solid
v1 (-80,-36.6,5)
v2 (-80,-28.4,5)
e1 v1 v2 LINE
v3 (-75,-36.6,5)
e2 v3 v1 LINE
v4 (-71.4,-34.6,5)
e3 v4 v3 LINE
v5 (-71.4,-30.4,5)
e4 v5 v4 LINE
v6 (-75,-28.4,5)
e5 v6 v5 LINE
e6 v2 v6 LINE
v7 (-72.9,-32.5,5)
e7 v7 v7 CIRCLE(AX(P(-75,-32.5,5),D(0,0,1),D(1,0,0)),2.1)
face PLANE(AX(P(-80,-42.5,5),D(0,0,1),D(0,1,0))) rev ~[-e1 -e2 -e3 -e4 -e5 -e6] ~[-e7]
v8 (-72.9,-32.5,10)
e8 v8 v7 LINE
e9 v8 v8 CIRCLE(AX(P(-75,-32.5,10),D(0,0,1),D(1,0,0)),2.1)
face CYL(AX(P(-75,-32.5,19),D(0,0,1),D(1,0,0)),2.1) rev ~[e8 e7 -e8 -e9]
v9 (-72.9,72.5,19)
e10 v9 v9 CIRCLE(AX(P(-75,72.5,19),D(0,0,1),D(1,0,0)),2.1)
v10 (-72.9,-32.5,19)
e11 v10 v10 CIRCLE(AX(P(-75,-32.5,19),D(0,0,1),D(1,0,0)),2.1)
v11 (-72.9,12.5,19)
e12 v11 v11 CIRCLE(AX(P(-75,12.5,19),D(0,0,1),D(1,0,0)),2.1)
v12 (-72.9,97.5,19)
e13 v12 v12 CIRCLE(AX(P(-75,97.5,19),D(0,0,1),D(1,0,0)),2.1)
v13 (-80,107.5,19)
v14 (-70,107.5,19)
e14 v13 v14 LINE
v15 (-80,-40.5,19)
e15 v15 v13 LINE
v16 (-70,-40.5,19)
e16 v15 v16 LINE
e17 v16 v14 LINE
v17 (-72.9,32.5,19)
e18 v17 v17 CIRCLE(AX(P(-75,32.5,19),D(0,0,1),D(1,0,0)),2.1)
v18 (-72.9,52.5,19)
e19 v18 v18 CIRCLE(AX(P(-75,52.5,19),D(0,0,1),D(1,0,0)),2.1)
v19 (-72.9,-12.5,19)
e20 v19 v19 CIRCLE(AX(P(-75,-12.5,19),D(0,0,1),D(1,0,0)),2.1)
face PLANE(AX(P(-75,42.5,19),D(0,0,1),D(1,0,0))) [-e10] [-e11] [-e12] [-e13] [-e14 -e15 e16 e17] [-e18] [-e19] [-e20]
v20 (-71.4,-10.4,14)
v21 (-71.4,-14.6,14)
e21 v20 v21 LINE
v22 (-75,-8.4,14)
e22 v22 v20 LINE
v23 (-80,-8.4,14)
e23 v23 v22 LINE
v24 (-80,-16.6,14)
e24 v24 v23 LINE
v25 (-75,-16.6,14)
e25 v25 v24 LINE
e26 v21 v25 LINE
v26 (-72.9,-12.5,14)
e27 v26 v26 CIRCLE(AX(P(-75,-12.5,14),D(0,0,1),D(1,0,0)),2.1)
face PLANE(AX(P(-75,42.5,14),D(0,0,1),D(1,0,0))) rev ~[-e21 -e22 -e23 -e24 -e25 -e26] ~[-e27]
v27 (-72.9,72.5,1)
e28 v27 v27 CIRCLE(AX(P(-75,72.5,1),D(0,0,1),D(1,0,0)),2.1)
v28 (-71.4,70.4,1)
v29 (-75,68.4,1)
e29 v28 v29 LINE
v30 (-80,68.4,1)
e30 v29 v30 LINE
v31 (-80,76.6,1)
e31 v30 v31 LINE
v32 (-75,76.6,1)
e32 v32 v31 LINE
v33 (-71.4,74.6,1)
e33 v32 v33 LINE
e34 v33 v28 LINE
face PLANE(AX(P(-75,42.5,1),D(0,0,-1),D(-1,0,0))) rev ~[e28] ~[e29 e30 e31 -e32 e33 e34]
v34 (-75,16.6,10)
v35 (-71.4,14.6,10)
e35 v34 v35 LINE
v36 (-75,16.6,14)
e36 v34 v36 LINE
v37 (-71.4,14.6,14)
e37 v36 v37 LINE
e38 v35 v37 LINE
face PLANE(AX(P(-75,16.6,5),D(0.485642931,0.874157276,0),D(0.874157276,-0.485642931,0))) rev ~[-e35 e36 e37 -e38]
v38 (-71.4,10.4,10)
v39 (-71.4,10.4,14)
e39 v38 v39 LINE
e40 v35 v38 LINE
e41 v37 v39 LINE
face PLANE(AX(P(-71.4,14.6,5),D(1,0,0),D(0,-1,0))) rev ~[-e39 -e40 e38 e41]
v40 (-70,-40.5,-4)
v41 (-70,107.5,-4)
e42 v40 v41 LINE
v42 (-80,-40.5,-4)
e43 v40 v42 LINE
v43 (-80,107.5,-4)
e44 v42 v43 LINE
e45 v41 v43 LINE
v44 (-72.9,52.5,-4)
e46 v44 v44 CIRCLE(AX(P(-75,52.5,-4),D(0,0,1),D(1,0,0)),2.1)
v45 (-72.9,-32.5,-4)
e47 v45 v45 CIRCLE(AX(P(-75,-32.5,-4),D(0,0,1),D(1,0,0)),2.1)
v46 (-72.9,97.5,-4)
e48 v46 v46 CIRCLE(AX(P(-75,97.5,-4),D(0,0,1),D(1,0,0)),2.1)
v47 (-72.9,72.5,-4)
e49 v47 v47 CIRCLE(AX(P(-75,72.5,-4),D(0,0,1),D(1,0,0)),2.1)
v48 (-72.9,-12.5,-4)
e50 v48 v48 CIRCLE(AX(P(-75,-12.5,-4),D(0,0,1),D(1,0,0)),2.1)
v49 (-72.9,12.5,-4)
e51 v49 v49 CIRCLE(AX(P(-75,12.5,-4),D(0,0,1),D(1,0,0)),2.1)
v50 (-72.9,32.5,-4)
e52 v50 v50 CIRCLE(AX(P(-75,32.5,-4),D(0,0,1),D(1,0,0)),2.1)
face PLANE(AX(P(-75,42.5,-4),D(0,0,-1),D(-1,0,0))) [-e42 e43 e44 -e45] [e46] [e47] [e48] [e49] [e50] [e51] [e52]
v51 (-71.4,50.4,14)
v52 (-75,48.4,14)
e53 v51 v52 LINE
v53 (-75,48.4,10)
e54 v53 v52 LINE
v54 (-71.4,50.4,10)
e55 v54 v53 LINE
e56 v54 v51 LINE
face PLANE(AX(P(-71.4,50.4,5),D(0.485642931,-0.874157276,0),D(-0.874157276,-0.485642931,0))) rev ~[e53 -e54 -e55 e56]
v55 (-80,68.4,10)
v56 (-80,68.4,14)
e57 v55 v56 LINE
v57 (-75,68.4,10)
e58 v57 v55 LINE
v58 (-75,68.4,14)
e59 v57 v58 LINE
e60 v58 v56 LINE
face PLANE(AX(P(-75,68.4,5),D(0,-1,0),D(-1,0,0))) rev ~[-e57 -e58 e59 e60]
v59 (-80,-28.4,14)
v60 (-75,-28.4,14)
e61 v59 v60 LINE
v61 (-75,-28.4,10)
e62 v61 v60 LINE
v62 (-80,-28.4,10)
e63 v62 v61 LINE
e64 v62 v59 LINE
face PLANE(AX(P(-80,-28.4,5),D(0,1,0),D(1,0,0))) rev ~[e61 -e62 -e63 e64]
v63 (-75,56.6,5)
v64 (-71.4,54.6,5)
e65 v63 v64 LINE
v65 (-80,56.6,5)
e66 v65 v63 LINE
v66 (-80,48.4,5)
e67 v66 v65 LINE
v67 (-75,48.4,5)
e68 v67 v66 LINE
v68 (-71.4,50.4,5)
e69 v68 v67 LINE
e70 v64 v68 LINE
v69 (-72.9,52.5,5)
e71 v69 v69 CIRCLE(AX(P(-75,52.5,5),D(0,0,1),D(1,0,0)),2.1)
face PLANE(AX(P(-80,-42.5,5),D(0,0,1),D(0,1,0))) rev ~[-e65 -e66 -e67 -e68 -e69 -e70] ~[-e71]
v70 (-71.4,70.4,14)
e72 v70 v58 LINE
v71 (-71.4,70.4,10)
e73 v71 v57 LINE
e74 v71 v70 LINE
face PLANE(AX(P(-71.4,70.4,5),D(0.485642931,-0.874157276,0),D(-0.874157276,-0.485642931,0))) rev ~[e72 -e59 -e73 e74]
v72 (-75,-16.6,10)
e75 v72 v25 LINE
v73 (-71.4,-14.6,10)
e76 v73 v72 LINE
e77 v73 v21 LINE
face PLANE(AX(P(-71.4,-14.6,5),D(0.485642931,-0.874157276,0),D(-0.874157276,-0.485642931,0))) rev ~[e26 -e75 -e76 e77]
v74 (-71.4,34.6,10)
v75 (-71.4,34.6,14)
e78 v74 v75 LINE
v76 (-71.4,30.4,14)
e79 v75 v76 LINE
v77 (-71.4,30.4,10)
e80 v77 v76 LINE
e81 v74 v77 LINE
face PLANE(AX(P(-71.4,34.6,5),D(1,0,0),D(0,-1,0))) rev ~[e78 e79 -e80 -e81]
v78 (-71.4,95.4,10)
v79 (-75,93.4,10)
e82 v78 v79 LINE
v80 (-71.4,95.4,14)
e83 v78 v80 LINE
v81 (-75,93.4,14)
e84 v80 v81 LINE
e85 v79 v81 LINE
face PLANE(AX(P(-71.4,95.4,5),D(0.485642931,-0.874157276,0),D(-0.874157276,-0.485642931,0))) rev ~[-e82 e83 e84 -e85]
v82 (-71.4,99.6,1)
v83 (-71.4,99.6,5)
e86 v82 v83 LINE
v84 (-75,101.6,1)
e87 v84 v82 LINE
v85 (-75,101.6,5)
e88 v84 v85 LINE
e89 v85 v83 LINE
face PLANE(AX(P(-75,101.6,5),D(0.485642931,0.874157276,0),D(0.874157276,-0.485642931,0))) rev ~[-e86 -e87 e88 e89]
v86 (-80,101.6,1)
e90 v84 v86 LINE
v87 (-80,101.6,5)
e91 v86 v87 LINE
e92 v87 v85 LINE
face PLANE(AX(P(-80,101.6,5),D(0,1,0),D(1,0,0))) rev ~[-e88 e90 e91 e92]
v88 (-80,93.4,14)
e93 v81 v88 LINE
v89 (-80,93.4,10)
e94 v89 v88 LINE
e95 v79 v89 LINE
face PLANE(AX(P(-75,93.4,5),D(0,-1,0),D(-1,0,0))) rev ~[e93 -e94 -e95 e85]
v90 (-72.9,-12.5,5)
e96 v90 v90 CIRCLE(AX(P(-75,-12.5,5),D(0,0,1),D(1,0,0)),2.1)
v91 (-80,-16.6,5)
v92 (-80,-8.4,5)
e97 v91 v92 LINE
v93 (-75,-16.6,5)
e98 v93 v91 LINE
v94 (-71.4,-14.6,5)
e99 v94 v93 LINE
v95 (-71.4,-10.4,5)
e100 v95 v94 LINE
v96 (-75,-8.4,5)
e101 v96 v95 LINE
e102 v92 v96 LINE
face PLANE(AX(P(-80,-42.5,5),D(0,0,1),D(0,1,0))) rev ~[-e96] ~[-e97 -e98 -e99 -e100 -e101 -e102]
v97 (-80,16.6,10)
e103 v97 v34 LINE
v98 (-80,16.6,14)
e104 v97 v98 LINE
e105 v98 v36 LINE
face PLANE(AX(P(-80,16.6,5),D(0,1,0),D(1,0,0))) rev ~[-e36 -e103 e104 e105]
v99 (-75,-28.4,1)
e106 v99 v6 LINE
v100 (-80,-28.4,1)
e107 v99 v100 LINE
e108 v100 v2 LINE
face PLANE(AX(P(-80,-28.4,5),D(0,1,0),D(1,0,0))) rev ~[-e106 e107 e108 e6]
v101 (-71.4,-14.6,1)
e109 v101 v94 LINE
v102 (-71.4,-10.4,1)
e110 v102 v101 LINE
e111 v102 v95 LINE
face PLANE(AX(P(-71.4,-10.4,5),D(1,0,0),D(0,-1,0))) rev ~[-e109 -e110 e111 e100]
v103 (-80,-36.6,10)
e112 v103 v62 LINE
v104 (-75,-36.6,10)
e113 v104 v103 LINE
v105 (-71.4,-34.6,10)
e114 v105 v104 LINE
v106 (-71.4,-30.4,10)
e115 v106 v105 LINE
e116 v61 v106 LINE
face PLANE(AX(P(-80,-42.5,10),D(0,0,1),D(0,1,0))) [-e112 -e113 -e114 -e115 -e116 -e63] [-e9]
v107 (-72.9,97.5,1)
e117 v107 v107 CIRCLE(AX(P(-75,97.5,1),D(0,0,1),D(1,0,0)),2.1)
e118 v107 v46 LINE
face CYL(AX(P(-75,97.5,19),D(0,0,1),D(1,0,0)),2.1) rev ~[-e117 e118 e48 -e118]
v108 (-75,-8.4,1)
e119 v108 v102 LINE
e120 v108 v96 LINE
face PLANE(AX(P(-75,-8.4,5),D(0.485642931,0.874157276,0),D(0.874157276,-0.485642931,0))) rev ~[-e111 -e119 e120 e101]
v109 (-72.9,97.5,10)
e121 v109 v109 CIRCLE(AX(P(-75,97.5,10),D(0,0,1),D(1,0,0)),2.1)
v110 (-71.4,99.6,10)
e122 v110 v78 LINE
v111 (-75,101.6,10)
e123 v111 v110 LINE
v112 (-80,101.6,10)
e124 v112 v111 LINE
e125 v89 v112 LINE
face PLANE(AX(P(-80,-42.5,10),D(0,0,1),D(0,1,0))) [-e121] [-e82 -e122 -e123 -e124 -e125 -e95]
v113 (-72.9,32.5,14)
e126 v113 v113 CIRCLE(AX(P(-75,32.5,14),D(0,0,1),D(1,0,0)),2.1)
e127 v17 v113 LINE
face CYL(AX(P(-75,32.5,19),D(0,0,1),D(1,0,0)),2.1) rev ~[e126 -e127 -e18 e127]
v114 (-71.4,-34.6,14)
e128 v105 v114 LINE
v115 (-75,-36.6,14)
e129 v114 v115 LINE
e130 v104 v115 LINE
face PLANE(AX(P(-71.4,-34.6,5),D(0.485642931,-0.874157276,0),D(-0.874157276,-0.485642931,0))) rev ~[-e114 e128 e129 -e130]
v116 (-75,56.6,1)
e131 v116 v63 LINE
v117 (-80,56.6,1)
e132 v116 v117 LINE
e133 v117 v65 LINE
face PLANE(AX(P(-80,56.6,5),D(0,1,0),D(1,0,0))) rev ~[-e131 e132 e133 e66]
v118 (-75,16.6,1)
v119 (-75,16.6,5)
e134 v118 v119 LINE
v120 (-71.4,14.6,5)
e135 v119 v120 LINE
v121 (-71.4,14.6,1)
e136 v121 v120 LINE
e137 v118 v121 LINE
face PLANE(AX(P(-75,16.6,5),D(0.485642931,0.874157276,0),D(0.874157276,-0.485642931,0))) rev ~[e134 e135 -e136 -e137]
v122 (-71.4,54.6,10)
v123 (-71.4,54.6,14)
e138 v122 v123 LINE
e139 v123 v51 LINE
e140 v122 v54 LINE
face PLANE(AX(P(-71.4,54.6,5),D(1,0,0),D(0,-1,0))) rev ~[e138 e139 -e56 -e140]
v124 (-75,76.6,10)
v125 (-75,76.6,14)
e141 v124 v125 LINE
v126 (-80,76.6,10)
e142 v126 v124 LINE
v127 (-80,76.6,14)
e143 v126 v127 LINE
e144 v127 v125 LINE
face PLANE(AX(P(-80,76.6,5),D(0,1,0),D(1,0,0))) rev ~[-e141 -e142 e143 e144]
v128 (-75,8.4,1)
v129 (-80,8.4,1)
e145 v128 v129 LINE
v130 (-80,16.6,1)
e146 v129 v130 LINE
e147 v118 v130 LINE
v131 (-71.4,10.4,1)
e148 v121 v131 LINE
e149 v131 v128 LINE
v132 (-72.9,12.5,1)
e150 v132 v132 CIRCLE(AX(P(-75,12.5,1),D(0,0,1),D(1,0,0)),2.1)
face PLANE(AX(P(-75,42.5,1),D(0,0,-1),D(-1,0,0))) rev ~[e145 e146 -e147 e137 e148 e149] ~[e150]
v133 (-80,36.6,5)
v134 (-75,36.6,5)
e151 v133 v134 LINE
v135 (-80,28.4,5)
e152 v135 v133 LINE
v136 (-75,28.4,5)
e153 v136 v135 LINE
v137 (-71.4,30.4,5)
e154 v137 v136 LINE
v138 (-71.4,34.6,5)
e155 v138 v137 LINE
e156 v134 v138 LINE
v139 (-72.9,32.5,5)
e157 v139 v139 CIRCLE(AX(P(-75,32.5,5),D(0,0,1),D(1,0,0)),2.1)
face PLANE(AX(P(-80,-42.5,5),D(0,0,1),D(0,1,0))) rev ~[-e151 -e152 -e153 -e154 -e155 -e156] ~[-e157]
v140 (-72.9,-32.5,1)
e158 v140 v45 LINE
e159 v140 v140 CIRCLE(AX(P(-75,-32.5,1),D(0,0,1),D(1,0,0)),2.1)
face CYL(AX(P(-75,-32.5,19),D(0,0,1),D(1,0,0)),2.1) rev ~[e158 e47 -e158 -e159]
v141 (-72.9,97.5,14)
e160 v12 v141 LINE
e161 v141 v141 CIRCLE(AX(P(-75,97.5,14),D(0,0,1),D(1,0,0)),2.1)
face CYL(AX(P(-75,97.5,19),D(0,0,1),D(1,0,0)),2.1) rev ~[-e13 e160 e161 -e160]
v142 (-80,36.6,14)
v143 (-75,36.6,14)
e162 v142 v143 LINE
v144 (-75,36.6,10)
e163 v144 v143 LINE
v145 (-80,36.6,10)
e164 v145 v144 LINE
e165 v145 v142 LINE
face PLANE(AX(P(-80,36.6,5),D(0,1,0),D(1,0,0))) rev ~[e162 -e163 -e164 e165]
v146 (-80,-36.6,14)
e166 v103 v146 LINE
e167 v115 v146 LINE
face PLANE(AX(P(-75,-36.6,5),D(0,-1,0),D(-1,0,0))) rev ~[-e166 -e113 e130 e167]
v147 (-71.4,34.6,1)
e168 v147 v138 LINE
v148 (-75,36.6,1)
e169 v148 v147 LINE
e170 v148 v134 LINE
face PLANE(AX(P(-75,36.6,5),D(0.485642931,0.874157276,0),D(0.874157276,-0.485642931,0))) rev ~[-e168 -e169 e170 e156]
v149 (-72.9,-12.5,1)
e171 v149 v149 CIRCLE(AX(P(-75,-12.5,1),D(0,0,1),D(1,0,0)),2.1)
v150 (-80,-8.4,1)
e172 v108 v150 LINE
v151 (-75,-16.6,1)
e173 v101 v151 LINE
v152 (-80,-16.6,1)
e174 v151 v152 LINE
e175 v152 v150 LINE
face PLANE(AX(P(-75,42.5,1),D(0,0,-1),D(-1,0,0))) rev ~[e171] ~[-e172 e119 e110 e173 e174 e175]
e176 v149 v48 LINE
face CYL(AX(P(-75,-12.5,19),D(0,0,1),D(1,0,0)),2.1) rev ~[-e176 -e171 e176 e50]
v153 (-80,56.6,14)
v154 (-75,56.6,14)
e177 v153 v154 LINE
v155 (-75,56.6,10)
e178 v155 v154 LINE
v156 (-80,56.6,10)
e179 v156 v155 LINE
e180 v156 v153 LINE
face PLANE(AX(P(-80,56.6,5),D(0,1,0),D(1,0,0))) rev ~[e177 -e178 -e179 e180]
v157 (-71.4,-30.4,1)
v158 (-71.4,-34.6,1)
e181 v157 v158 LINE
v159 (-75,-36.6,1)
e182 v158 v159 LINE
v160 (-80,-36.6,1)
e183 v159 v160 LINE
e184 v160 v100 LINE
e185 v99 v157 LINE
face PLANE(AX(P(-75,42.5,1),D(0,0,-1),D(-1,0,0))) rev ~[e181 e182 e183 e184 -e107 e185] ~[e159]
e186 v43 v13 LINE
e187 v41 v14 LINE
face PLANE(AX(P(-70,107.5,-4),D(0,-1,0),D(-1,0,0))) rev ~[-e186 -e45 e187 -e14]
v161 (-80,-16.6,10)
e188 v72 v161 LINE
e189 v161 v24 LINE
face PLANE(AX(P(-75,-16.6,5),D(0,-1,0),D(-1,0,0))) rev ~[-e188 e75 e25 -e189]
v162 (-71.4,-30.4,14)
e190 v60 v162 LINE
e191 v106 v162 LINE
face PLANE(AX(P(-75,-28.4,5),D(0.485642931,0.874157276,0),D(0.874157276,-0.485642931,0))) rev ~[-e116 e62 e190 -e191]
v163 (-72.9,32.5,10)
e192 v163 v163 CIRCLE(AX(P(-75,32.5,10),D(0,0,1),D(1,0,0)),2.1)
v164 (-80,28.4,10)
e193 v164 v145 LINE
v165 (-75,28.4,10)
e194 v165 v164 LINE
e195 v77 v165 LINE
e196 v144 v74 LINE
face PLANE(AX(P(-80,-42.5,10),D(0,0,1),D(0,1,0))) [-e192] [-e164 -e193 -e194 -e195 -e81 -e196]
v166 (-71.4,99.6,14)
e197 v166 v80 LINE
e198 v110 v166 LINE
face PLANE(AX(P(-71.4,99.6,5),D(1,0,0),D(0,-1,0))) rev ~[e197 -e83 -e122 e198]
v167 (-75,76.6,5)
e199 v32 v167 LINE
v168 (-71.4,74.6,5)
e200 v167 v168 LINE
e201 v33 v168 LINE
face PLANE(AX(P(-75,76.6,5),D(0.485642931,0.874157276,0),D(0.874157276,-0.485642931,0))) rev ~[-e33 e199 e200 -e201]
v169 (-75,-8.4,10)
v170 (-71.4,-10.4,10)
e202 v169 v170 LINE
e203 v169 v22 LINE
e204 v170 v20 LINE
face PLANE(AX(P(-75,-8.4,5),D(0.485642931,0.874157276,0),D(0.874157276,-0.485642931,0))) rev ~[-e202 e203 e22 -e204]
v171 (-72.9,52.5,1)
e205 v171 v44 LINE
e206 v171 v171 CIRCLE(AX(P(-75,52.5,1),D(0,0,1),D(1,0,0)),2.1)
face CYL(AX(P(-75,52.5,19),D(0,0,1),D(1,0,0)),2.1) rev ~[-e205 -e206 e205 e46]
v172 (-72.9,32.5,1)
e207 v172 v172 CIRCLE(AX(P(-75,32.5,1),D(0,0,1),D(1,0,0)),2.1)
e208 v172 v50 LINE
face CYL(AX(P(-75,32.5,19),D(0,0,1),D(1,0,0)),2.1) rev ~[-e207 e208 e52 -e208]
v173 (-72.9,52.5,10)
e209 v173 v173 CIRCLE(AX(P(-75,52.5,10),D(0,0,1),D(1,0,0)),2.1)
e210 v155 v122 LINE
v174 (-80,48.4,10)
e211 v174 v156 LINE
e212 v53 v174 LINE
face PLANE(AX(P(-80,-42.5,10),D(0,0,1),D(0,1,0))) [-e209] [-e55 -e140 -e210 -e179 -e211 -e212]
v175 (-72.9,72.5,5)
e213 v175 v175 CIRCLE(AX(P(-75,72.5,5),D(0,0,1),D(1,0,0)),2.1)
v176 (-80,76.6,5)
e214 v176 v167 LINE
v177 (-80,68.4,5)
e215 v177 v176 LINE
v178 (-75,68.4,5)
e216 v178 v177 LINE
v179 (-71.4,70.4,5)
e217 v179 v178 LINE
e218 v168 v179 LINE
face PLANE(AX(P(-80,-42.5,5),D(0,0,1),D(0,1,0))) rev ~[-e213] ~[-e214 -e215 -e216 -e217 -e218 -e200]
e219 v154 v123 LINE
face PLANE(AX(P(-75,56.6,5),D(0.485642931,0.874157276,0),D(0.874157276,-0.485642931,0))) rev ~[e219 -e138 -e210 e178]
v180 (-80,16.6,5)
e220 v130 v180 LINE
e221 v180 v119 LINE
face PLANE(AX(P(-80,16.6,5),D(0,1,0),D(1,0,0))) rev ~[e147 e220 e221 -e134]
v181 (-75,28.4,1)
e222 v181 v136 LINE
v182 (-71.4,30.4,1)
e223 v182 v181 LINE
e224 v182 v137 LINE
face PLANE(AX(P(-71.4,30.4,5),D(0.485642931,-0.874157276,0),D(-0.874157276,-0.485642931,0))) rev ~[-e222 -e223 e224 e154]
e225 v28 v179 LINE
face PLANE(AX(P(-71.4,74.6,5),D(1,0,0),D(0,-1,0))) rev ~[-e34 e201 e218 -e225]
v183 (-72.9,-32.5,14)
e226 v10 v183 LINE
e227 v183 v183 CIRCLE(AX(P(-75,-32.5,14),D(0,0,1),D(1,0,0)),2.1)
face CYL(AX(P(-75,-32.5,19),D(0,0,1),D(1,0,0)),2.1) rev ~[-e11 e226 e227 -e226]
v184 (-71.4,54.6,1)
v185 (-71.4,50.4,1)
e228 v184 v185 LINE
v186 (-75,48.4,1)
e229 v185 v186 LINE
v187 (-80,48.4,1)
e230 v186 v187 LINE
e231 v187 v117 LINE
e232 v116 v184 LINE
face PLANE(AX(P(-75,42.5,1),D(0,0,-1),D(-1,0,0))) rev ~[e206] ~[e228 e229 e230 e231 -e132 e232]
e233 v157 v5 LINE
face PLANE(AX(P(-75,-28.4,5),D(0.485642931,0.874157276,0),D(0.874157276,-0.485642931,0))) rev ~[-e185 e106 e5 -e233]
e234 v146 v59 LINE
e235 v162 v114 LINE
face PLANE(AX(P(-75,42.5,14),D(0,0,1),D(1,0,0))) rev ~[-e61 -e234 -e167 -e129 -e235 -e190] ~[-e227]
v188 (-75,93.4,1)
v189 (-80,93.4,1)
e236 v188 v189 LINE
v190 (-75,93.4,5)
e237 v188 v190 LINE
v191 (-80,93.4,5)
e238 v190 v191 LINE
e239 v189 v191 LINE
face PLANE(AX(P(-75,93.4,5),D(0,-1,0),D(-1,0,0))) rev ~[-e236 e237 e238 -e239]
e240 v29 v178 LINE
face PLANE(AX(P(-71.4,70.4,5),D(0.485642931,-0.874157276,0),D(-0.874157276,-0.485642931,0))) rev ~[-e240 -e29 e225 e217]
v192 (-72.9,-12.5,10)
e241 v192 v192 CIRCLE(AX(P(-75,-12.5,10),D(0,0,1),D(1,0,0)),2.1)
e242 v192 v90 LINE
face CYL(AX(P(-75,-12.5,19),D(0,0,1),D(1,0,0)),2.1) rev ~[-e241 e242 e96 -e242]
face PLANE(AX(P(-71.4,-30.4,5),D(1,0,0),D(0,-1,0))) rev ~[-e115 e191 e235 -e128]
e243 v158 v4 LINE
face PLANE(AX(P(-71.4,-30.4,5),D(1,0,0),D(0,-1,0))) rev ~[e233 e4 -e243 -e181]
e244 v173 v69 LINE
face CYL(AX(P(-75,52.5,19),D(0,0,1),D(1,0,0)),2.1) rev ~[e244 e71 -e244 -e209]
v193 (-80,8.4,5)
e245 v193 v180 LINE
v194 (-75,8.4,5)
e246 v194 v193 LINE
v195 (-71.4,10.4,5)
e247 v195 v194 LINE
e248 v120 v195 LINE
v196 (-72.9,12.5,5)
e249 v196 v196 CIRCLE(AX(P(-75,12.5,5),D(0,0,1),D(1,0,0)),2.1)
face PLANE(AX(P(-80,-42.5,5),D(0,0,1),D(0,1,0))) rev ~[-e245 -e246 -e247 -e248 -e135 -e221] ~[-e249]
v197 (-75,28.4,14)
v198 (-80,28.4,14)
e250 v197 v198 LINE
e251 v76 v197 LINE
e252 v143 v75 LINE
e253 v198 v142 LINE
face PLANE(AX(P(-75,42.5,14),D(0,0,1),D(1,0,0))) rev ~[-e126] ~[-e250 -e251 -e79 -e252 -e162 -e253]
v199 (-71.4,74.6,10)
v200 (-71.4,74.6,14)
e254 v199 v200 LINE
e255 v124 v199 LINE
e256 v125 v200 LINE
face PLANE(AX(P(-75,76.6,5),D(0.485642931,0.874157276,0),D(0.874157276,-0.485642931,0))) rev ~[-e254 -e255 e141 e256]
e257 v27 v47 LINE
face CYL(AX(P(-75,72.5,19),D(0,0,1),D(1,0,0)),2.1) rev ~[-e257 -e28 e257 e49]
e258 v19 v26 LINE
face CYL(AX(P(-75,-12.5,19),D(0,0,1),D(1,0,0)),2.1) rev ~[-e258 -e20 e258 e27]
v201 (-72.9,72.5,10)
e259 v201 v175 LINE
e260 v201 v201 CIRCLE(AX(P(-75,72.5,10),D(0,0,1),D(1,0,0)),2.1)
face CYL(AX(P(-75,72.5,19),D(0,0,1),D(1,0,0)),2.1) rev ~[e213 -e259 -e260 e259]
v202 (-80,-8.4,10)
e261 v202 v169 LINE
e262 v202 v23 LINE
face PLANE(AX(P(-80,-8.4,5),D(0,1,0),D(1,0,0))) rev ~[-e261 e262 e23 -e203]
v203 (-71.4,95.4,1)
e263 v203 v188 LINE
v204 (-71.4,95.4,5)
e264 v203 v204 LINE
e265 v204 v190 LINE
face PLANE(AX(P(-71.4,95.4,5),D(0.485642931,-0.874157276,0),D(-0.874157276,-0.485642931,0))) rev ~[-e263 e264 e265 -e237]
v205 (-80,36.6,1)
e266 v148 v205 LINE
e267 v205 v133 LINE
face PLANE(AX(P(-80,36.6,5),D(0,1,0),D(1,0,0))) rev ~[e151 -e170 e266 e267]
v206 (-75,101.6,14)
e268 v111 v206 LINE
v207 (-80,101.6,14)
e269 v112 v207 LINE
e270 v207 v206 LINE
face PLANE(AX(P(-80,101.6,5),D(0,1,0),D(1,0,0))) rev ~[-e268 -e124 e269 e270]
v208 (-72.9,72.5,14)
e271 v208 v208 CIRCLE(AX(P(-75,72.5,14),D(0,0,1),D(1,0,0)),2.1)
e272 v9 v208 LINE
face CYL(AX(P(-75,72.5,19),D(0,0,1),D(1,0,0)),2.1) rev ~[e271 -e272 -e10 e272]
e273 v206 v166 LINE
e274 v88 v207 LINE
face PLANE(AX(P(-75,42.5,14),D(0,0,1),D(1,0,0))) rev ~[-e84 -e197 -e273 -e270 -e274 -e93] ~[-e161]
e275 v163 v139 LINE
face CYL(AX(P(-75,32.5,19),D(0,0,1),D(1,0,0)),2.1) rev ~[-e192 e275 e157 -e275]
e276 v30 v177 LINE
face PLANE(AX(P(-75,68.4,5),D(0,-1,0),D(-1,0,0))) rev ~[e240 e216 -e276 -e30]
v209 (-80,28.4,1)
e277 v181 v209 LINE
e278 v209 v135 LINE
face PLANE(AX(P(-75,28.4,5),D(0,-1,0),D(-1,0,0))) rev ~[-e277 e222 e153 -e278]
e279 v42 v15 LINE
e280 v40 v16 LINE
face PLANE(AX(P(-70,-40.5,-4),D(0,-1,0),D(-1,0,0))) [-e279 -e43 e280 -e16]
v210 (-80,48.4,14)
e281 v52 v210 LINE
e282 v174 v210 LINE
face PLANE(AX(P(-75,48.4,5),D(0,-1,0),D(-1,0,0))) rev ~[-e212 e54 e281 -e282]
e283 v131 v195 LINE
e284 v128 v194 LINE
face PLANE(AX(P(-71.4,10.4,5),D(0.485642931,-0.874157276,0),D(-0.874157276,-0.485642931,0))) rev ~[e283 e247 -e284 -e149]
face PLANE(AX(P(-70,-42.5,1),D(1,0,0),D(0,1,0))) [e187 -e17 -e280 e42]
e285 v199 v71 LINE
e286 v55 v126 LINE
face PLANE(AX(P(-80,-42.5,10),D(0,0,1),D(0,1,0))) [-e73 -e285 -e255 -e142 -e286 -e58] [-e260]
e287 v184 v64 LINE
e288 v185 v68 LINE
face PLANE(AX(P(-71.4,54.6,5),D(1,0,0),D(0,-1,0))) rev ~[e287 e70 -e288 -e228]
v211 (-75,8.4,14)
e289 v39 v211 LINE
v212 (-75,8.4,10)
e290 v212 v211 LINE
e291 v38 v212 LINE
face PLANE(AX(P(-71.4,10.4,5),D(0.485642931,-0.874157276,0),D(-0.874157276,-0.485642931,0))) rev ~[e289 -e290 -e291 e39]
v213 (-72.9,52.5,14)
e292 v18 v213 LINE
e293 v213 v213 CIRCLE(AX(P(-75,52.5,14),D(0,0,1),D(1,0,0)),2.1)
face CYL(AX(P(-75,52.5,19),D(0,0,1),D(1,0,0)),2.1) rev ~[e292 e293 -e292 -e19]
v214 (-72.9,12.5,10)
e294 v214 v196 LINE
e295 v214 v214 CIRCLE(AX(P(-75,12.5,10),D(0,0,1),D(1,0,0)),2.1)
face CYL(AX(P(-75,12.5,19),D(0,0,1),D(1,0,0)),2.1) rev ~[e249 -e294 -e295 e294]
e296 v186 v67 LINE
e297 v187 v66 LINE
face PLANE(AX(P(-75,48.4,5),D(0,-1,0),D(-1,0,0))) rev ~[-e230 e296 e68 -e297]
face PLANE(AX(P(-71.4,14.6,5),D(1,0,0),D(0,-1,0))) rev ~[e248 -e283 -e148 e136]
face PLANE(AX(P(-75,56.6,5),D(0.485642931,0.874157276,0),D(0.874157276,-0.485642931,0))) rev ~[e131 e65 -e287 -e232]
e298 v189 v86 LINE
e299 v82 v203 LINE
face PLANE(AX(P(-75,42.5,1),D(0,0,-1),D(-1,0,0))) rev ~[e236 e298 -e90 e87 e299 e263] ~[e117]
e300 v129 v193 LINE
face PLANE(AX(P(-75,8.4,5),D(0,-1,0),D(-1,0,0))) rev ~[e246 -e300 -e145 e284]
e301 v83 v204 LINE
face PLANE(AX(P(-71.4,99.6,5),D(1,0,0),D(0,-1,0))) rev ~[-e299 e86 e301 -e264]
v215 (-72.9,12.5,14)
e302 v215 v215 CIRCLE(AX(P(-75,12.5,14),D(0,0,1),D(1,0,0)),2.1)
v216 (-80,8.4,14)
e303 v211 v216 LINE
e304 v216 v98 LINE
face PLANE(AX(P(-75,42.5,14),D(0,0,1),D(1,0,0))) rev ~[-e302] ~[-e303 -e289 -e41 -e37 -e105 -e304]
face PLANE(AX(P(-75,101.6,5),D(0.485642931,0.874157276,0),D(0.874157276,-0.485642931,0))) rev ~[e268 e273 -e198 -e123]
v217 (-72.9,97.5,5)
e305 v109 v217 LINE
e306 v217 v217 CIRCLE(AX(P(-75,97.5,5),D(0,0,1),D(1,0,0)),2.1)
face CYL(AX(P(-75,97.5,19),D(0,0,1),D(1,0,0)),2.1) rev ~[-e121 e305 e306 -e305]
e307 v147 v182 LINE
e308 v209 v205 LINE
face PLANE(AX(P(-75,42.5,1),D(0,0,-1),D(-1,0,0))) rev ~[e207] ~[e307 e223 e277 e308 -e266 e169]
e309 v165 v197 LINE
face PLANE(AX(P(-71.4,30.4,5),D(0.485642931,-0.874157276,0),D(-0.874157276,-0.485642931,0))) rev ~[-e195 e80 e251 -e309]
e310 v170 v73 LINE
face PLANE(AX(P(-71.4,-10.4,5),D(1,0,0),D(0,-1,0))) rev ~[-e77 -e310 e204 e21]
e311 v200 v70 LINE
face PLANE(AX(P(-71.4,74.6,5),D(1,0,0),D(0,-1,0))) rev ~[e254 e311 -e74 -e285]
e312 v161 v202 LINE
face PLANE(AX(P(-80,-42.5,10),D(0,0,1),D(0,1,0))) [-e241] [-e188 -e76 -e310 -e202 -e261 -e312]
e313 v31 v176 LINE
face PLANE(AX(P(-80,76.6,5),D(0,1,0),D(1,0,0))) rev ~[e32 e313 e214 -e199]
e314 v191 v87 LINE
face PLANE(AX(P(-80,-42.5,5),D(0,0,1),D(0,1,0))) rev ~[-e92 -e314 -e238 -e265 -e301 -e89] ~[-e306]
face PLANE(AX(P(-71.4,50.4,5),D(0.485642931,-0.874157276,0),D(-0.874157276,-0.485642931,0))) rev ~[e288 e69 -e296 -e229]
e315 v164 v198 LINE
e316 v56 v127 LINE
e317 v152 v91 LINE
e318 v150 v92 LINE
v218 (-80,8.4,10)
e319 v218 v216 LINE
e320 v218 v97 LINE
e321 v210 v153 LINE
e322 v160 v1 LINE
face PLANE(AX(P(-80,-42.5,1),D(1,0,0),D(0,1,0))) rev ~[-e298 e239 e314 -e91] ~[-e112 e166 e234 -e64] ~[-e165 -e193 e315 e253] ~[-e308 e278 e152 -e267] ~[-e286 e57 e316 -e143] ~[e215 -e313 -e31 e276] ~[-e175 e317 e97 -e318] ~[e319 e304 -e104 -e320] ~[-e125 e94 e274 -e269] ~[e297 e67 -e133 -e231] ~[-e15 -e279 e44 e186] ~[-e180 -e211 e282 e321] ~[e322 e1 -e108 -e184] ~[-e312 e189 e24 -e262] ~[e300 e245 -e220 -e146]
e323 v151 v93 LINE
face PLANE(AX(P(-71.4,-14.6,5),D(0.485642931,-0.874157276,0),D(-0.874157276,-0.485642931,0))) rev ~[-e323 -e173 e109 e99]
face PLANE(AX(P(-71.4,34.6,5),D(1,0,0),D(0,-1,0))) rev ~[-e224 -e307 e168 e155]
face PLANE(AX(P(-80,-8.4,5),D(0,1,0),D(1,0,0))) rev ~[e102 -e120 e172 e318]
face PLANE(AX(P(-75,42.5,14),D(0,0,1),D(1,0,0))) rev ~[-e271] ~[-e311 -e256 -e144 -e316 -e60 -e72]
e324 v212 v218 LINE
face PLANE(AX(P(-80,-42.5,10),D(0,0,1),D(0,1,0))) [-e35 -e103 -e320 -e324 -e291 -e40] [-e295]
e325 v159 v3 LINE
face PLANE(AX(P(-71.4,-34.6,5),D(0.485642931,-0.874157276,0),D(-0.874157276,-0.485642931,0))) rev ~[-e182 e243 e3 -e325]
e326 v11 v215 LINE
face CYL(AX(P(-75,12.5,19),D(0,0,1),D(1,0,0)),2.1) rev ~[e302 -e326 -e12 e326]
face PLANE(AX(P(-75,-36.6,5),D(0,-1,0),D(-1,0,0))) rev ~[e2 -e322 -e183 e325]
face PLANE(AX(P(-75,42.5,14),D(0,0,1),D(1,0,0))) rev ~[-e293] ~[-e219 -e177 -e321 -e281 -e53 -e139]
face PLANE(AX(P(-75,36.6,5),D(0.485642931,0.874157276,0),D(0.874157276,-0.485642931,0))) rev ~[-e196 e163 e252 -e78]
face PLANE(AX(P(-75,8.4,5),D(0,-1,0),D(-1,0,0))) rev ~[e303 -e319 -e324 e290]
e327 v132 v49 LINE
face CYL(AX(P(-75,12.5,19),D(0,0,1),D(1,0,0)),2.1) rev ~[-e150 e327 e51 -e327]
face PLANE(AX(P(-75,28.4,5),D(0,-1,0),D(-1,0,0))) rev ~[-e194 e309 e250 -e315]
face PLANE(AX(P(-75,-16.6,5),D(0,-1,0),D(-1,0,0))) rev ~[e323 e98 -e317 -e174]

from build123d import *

# Parameters (mm, degrees)
SKETCH1_W           = 10
SKETCH1_H           = 85
BOSS_EXTRUDE2_DEPTH = 5
SKETCH2_W           = 10
SKETCH2_H           = 170
CUT_EXTRUDE1_DEPTH  = 1
SKETCH3_W           = 5
SKETCH3_H           = 8.2
CUT_EXTRUDE2_DEPTH  = 4
BOSS_EXTRUDE3_DEPTH = 9
SKETCH6_W           = 5
SKETCH6_H           = 170
BOSS_EXTRUDE4_DEPTH = 10
SKETCH7_W           = 10
SKETCH7_H           = 170
BOSS_EXTRUDE6_DEPTH = 5
SKETCH9_W           = 10
SKETCH9_H           = 170
BOSS_EXTRUDE7_DEPTH = 5
SKETCH10_R          = 2.1
CUT_EXTRUDE3_DEPTH  = 39
CUT_EXTRUDE6_DEPTH  = 39
SKETCH14_W          = 10
SKETCH14_H          = 2
CUT_EXTRUDE7_DEPTH  = 39


with BuildPart() as part:
    # Sketch1 → Boss-Extrude2 (new body)
    with BuildSketch(Plane.XY):
        with Locations((-75, 0)):
            Rectangle(SKETCH1_W, SKETCH1_H)
        Polygon((-78.6, 10.4), (-75, 8.4), (-71.4, 10.4), (-71.4, 14.6), (-75, 16.6), (-78.6, 14.6), align=None, mode=Mode.SUBTRACT)
        Polygon((-78.6, 34.6), (-78.6, 30.4), (-75, 28.4), (-71.4, 30.4), (-71.4, 34.6), (-75, 36.6), align=None, mode=Mode.SUBTRACT)
        Polygon((-78.6, -10.4), (-78.6, -14.6), (-75, -16.6), (-71.4, -14.6), (-71.4, -10.4), (-75, -8.4), align=None, mode=Mode.SUBTRACT)
        Polygon((-78.6, -34.6), (-75, -36.6), (-71.4, -34.6), (-71.4, -30.4), (-75, -28.4), (-78.6, -30.4), align=None, mode=Mode.SUBTRACT)
        with Locations((-75, 85)):
            Rectangle(SKETCH1_W, SKETCH1_H)
        Polygon((-78.6, 115.4), (-75, 113.4), (-71.4, 115.4), (-71.4, 119.6), (-75, 121.6), (-78.6, 119.6), align=None, mode=Mode.SUBTRACT)
        Polygon((-78.6, 95.4), (-75, 93.4), (-71.4, 95.4), (-71.4, 99.6), (-75, 101.6), (-78.6, 99.6), align=None, mode=Mode.SUBTRACT)
        Polygon((-78.6, 50.4), (-75, 48.4), (-71.4, 50.4), (-71.4, 54.6), (-75, 56.6), (-78.6, 54.6), align=None, mode=Mode.SUBTRACT)
        Polygon((-78.6, 74.6), (-78.6, 70.4), (-75, 68.4), (-71.4, 70.4), (-71.4, 74.6), (-75, 76.6), align=None, mode=Mode.SUBTRACT)
    extrude(amount=BOSS_EXTRUDE2_DEPTH)

    # Sketch2 → Cut-Extrude1 (cut)
    with BuildSketch(Plane(origin=(0, 0, 0), x_dir=(-1, 0, 0), z_dir=(0, 0, -1))):
        with Locations((75, 42.5)):
            Rectangle(SKETCH2_W, SKETCH2_H)
    extrude(amount=-CUT_EXTRUDE1_DEPTH, mode=Mode.SUBTRACT)

    # Sketch3 → Cut-Extrude2 (cut)
    with BuildSketch(Plane(origin=(0, 0, 1), x_dir=(-1, 0, 0), z_dir=(0, 0, -1))):
        with Locations((77.5, 117.5)):
            Rectangle(SKETCH3_W, SKETCH3_H)
        with Locations((77.5, 97.5)):
            Rectangle(SKETCH3_W, SKETCH3_H)
        with Locations((77.5, 72.5)):
            Rectangle(SKETCH3_W, SKETCH3_H)
        with Locations((77.5, 52.5)):
            Rectangle(SKETCH3_W, SKETCH3_H)
        with Locations((77.5, 32.5)):
            Rectangle(SKETCH3_W, SKETCH3_H)
        with Locations((77.5, 12.5)):
            Rectangle(SKETCH3_W, SKETCH3_H)
        with Locations((77.5, -12.5)):
            Rectangle(SKETCH3_W, SKETCH3_H)
        with Locations((77.5, -32.5)):
            Rectangle(SKETCH3_W, SKETCH3_H)
    extrude(amount=-CUT_EXTRUDE2_DEPTH, mode=Mode.SUBTRACT)

    # Sketch5 → Boss-Extrude3 (add)
    with BuildSketch(Plane.XY.offset(5)):
        Polygon((-70, 127.5), (-80, 127.5), (-80, 121.6), (-75, 121.6), (-71.4, 119.6), (-71.4, 115.4), (-75, 113.4), (-80, 113.4), (-80, 101.6), (-75, 101.6), (-71.4, 99.6), (-71.4, 95.4), (-75, 93.4), (-80, 93.4), (-80, 76.6), (-75, 76.6), (-71.4, 74.6), (-71.4, 70.4), (-75, 68.4), (-80, 68.4), (-80, 56.6), (-75, 56.6), (-71.4, 54.6), (-71.4, 50.4), (-75, 48.4), (-80, 48.4), (-80, 36.6), (-75, 36.6), (-71.4, 34.6), (-71.4, 30.4), (-75, 28.4), (-80, 28.4), (-80, 16.6), (-75, 16.6), (-71.4, 14.6), (-71.4, 10.4), (-75, 8.4), (-80, 8.4), (-80, -8.4), (-75, -8.4), (-71.4, -10.4), (-71.4, -14.6), (-75, -16.6), (-80, -16.6), (-80, -28.4), (-75, -28.4), (-71.4, -30.4), (-71.4, -34.6), (-75, -36.6), (-80, -36.6), (-80, -42.5), (-70, -42.5), align=None)
    extrude(amount=BOSS_EXTRUDE3_DEPTH)

    # Sketch6 → Boss-Extrude4 (add)
    with BuildSketch(Plane.ZY.offset(80)):
        with Locations((7.5, 42.5)):
            Rectangle(SKETCH6_W, SKETCH6_H)
    extrude(amount=-BOSS_EXTRUDE4_DEPTH)

    # Sketch7 → Boss-Extrude6 (add)
    with BuildSketch(Plane.XY.offset(14)):
        with Locations((-75, 42.5)):
            Rectangle(SKETCH7_W, SKETCH7_H)
    extrude(amount=BOSS_EXTRUDE6_DEPTH)

    # Sketch9 → Boss-Extrude7 (add)
    with BuildSketch(Plane(origin=(0, 0, 1), x_dir=(-1, 0, 0), z_dir=(0, 0, -1))):
        with Locations((75, 42.5)):
            Rectangle(SKETCH9_W, SKETCH9_H)
    extrude(amount=BOSS_EXTRUDE7_DEPTH)

    # Sketch10 → Cut-Extrude3 (cut)
    with BuildSketch(Plane.XY.offset(19)):
        with Locations((-75, 117.5)):
            Circle(SKETCH10_R)
        with Locations((-75, 97.5)):
            Circle(SKETCH10_R)
        with Locations((-75, 72.5)):
            Circle(SKETCH10_R)
        with Locations((-75, 52.5)):
            Circle(SKETCH10_R)
        with Locations((-75, 32.5)):
            Circle(SKETCH10_R)
        with Locations((-75, 12.5)):
            Circle(SKETCH10_R)
        with Locations((-75, -12.5)):
            Circle(SKETCH10_R)
        with Locations((-75, -32.5)):
            Circle(SKETCH10_R)
    extrude(amount=-CUT_EXTRUDE3_DEPTH, mode=Mode.SUBTRACT)

    # Sketch13 → Cut-Extrude6 (cut)
    with BuildSketch(Plane(origin=(0, 0, -4), x_dir=(-1, 0, 0), z_dir=(0, 0, -1))):
        Polygon((70, 127.5), (75, 127.5), (80, 127.5), (80, 107.5), (75, 107.5), (70, 107.5), align=None)
    extrude(amount=-CUT_EXTRUDE6_DEPTH, mode=Mode.SUBTRACT)

    # Sketch14 → Cut-Extrude7 (cut)
    with BuildSketch(Plane(origin=(0, 0, -4), x_dir=(-1, 0, 0), z_dir=(0, 0, -1))):
        with Locations((75, -41.5)):
            Rectangle(SKETCH14_W, SKETCH14_H)
    extrude(amount=-CUT_EXTRUDE7_DEPTH, mode=Mode.SUBTRACT)


solid = part.part
